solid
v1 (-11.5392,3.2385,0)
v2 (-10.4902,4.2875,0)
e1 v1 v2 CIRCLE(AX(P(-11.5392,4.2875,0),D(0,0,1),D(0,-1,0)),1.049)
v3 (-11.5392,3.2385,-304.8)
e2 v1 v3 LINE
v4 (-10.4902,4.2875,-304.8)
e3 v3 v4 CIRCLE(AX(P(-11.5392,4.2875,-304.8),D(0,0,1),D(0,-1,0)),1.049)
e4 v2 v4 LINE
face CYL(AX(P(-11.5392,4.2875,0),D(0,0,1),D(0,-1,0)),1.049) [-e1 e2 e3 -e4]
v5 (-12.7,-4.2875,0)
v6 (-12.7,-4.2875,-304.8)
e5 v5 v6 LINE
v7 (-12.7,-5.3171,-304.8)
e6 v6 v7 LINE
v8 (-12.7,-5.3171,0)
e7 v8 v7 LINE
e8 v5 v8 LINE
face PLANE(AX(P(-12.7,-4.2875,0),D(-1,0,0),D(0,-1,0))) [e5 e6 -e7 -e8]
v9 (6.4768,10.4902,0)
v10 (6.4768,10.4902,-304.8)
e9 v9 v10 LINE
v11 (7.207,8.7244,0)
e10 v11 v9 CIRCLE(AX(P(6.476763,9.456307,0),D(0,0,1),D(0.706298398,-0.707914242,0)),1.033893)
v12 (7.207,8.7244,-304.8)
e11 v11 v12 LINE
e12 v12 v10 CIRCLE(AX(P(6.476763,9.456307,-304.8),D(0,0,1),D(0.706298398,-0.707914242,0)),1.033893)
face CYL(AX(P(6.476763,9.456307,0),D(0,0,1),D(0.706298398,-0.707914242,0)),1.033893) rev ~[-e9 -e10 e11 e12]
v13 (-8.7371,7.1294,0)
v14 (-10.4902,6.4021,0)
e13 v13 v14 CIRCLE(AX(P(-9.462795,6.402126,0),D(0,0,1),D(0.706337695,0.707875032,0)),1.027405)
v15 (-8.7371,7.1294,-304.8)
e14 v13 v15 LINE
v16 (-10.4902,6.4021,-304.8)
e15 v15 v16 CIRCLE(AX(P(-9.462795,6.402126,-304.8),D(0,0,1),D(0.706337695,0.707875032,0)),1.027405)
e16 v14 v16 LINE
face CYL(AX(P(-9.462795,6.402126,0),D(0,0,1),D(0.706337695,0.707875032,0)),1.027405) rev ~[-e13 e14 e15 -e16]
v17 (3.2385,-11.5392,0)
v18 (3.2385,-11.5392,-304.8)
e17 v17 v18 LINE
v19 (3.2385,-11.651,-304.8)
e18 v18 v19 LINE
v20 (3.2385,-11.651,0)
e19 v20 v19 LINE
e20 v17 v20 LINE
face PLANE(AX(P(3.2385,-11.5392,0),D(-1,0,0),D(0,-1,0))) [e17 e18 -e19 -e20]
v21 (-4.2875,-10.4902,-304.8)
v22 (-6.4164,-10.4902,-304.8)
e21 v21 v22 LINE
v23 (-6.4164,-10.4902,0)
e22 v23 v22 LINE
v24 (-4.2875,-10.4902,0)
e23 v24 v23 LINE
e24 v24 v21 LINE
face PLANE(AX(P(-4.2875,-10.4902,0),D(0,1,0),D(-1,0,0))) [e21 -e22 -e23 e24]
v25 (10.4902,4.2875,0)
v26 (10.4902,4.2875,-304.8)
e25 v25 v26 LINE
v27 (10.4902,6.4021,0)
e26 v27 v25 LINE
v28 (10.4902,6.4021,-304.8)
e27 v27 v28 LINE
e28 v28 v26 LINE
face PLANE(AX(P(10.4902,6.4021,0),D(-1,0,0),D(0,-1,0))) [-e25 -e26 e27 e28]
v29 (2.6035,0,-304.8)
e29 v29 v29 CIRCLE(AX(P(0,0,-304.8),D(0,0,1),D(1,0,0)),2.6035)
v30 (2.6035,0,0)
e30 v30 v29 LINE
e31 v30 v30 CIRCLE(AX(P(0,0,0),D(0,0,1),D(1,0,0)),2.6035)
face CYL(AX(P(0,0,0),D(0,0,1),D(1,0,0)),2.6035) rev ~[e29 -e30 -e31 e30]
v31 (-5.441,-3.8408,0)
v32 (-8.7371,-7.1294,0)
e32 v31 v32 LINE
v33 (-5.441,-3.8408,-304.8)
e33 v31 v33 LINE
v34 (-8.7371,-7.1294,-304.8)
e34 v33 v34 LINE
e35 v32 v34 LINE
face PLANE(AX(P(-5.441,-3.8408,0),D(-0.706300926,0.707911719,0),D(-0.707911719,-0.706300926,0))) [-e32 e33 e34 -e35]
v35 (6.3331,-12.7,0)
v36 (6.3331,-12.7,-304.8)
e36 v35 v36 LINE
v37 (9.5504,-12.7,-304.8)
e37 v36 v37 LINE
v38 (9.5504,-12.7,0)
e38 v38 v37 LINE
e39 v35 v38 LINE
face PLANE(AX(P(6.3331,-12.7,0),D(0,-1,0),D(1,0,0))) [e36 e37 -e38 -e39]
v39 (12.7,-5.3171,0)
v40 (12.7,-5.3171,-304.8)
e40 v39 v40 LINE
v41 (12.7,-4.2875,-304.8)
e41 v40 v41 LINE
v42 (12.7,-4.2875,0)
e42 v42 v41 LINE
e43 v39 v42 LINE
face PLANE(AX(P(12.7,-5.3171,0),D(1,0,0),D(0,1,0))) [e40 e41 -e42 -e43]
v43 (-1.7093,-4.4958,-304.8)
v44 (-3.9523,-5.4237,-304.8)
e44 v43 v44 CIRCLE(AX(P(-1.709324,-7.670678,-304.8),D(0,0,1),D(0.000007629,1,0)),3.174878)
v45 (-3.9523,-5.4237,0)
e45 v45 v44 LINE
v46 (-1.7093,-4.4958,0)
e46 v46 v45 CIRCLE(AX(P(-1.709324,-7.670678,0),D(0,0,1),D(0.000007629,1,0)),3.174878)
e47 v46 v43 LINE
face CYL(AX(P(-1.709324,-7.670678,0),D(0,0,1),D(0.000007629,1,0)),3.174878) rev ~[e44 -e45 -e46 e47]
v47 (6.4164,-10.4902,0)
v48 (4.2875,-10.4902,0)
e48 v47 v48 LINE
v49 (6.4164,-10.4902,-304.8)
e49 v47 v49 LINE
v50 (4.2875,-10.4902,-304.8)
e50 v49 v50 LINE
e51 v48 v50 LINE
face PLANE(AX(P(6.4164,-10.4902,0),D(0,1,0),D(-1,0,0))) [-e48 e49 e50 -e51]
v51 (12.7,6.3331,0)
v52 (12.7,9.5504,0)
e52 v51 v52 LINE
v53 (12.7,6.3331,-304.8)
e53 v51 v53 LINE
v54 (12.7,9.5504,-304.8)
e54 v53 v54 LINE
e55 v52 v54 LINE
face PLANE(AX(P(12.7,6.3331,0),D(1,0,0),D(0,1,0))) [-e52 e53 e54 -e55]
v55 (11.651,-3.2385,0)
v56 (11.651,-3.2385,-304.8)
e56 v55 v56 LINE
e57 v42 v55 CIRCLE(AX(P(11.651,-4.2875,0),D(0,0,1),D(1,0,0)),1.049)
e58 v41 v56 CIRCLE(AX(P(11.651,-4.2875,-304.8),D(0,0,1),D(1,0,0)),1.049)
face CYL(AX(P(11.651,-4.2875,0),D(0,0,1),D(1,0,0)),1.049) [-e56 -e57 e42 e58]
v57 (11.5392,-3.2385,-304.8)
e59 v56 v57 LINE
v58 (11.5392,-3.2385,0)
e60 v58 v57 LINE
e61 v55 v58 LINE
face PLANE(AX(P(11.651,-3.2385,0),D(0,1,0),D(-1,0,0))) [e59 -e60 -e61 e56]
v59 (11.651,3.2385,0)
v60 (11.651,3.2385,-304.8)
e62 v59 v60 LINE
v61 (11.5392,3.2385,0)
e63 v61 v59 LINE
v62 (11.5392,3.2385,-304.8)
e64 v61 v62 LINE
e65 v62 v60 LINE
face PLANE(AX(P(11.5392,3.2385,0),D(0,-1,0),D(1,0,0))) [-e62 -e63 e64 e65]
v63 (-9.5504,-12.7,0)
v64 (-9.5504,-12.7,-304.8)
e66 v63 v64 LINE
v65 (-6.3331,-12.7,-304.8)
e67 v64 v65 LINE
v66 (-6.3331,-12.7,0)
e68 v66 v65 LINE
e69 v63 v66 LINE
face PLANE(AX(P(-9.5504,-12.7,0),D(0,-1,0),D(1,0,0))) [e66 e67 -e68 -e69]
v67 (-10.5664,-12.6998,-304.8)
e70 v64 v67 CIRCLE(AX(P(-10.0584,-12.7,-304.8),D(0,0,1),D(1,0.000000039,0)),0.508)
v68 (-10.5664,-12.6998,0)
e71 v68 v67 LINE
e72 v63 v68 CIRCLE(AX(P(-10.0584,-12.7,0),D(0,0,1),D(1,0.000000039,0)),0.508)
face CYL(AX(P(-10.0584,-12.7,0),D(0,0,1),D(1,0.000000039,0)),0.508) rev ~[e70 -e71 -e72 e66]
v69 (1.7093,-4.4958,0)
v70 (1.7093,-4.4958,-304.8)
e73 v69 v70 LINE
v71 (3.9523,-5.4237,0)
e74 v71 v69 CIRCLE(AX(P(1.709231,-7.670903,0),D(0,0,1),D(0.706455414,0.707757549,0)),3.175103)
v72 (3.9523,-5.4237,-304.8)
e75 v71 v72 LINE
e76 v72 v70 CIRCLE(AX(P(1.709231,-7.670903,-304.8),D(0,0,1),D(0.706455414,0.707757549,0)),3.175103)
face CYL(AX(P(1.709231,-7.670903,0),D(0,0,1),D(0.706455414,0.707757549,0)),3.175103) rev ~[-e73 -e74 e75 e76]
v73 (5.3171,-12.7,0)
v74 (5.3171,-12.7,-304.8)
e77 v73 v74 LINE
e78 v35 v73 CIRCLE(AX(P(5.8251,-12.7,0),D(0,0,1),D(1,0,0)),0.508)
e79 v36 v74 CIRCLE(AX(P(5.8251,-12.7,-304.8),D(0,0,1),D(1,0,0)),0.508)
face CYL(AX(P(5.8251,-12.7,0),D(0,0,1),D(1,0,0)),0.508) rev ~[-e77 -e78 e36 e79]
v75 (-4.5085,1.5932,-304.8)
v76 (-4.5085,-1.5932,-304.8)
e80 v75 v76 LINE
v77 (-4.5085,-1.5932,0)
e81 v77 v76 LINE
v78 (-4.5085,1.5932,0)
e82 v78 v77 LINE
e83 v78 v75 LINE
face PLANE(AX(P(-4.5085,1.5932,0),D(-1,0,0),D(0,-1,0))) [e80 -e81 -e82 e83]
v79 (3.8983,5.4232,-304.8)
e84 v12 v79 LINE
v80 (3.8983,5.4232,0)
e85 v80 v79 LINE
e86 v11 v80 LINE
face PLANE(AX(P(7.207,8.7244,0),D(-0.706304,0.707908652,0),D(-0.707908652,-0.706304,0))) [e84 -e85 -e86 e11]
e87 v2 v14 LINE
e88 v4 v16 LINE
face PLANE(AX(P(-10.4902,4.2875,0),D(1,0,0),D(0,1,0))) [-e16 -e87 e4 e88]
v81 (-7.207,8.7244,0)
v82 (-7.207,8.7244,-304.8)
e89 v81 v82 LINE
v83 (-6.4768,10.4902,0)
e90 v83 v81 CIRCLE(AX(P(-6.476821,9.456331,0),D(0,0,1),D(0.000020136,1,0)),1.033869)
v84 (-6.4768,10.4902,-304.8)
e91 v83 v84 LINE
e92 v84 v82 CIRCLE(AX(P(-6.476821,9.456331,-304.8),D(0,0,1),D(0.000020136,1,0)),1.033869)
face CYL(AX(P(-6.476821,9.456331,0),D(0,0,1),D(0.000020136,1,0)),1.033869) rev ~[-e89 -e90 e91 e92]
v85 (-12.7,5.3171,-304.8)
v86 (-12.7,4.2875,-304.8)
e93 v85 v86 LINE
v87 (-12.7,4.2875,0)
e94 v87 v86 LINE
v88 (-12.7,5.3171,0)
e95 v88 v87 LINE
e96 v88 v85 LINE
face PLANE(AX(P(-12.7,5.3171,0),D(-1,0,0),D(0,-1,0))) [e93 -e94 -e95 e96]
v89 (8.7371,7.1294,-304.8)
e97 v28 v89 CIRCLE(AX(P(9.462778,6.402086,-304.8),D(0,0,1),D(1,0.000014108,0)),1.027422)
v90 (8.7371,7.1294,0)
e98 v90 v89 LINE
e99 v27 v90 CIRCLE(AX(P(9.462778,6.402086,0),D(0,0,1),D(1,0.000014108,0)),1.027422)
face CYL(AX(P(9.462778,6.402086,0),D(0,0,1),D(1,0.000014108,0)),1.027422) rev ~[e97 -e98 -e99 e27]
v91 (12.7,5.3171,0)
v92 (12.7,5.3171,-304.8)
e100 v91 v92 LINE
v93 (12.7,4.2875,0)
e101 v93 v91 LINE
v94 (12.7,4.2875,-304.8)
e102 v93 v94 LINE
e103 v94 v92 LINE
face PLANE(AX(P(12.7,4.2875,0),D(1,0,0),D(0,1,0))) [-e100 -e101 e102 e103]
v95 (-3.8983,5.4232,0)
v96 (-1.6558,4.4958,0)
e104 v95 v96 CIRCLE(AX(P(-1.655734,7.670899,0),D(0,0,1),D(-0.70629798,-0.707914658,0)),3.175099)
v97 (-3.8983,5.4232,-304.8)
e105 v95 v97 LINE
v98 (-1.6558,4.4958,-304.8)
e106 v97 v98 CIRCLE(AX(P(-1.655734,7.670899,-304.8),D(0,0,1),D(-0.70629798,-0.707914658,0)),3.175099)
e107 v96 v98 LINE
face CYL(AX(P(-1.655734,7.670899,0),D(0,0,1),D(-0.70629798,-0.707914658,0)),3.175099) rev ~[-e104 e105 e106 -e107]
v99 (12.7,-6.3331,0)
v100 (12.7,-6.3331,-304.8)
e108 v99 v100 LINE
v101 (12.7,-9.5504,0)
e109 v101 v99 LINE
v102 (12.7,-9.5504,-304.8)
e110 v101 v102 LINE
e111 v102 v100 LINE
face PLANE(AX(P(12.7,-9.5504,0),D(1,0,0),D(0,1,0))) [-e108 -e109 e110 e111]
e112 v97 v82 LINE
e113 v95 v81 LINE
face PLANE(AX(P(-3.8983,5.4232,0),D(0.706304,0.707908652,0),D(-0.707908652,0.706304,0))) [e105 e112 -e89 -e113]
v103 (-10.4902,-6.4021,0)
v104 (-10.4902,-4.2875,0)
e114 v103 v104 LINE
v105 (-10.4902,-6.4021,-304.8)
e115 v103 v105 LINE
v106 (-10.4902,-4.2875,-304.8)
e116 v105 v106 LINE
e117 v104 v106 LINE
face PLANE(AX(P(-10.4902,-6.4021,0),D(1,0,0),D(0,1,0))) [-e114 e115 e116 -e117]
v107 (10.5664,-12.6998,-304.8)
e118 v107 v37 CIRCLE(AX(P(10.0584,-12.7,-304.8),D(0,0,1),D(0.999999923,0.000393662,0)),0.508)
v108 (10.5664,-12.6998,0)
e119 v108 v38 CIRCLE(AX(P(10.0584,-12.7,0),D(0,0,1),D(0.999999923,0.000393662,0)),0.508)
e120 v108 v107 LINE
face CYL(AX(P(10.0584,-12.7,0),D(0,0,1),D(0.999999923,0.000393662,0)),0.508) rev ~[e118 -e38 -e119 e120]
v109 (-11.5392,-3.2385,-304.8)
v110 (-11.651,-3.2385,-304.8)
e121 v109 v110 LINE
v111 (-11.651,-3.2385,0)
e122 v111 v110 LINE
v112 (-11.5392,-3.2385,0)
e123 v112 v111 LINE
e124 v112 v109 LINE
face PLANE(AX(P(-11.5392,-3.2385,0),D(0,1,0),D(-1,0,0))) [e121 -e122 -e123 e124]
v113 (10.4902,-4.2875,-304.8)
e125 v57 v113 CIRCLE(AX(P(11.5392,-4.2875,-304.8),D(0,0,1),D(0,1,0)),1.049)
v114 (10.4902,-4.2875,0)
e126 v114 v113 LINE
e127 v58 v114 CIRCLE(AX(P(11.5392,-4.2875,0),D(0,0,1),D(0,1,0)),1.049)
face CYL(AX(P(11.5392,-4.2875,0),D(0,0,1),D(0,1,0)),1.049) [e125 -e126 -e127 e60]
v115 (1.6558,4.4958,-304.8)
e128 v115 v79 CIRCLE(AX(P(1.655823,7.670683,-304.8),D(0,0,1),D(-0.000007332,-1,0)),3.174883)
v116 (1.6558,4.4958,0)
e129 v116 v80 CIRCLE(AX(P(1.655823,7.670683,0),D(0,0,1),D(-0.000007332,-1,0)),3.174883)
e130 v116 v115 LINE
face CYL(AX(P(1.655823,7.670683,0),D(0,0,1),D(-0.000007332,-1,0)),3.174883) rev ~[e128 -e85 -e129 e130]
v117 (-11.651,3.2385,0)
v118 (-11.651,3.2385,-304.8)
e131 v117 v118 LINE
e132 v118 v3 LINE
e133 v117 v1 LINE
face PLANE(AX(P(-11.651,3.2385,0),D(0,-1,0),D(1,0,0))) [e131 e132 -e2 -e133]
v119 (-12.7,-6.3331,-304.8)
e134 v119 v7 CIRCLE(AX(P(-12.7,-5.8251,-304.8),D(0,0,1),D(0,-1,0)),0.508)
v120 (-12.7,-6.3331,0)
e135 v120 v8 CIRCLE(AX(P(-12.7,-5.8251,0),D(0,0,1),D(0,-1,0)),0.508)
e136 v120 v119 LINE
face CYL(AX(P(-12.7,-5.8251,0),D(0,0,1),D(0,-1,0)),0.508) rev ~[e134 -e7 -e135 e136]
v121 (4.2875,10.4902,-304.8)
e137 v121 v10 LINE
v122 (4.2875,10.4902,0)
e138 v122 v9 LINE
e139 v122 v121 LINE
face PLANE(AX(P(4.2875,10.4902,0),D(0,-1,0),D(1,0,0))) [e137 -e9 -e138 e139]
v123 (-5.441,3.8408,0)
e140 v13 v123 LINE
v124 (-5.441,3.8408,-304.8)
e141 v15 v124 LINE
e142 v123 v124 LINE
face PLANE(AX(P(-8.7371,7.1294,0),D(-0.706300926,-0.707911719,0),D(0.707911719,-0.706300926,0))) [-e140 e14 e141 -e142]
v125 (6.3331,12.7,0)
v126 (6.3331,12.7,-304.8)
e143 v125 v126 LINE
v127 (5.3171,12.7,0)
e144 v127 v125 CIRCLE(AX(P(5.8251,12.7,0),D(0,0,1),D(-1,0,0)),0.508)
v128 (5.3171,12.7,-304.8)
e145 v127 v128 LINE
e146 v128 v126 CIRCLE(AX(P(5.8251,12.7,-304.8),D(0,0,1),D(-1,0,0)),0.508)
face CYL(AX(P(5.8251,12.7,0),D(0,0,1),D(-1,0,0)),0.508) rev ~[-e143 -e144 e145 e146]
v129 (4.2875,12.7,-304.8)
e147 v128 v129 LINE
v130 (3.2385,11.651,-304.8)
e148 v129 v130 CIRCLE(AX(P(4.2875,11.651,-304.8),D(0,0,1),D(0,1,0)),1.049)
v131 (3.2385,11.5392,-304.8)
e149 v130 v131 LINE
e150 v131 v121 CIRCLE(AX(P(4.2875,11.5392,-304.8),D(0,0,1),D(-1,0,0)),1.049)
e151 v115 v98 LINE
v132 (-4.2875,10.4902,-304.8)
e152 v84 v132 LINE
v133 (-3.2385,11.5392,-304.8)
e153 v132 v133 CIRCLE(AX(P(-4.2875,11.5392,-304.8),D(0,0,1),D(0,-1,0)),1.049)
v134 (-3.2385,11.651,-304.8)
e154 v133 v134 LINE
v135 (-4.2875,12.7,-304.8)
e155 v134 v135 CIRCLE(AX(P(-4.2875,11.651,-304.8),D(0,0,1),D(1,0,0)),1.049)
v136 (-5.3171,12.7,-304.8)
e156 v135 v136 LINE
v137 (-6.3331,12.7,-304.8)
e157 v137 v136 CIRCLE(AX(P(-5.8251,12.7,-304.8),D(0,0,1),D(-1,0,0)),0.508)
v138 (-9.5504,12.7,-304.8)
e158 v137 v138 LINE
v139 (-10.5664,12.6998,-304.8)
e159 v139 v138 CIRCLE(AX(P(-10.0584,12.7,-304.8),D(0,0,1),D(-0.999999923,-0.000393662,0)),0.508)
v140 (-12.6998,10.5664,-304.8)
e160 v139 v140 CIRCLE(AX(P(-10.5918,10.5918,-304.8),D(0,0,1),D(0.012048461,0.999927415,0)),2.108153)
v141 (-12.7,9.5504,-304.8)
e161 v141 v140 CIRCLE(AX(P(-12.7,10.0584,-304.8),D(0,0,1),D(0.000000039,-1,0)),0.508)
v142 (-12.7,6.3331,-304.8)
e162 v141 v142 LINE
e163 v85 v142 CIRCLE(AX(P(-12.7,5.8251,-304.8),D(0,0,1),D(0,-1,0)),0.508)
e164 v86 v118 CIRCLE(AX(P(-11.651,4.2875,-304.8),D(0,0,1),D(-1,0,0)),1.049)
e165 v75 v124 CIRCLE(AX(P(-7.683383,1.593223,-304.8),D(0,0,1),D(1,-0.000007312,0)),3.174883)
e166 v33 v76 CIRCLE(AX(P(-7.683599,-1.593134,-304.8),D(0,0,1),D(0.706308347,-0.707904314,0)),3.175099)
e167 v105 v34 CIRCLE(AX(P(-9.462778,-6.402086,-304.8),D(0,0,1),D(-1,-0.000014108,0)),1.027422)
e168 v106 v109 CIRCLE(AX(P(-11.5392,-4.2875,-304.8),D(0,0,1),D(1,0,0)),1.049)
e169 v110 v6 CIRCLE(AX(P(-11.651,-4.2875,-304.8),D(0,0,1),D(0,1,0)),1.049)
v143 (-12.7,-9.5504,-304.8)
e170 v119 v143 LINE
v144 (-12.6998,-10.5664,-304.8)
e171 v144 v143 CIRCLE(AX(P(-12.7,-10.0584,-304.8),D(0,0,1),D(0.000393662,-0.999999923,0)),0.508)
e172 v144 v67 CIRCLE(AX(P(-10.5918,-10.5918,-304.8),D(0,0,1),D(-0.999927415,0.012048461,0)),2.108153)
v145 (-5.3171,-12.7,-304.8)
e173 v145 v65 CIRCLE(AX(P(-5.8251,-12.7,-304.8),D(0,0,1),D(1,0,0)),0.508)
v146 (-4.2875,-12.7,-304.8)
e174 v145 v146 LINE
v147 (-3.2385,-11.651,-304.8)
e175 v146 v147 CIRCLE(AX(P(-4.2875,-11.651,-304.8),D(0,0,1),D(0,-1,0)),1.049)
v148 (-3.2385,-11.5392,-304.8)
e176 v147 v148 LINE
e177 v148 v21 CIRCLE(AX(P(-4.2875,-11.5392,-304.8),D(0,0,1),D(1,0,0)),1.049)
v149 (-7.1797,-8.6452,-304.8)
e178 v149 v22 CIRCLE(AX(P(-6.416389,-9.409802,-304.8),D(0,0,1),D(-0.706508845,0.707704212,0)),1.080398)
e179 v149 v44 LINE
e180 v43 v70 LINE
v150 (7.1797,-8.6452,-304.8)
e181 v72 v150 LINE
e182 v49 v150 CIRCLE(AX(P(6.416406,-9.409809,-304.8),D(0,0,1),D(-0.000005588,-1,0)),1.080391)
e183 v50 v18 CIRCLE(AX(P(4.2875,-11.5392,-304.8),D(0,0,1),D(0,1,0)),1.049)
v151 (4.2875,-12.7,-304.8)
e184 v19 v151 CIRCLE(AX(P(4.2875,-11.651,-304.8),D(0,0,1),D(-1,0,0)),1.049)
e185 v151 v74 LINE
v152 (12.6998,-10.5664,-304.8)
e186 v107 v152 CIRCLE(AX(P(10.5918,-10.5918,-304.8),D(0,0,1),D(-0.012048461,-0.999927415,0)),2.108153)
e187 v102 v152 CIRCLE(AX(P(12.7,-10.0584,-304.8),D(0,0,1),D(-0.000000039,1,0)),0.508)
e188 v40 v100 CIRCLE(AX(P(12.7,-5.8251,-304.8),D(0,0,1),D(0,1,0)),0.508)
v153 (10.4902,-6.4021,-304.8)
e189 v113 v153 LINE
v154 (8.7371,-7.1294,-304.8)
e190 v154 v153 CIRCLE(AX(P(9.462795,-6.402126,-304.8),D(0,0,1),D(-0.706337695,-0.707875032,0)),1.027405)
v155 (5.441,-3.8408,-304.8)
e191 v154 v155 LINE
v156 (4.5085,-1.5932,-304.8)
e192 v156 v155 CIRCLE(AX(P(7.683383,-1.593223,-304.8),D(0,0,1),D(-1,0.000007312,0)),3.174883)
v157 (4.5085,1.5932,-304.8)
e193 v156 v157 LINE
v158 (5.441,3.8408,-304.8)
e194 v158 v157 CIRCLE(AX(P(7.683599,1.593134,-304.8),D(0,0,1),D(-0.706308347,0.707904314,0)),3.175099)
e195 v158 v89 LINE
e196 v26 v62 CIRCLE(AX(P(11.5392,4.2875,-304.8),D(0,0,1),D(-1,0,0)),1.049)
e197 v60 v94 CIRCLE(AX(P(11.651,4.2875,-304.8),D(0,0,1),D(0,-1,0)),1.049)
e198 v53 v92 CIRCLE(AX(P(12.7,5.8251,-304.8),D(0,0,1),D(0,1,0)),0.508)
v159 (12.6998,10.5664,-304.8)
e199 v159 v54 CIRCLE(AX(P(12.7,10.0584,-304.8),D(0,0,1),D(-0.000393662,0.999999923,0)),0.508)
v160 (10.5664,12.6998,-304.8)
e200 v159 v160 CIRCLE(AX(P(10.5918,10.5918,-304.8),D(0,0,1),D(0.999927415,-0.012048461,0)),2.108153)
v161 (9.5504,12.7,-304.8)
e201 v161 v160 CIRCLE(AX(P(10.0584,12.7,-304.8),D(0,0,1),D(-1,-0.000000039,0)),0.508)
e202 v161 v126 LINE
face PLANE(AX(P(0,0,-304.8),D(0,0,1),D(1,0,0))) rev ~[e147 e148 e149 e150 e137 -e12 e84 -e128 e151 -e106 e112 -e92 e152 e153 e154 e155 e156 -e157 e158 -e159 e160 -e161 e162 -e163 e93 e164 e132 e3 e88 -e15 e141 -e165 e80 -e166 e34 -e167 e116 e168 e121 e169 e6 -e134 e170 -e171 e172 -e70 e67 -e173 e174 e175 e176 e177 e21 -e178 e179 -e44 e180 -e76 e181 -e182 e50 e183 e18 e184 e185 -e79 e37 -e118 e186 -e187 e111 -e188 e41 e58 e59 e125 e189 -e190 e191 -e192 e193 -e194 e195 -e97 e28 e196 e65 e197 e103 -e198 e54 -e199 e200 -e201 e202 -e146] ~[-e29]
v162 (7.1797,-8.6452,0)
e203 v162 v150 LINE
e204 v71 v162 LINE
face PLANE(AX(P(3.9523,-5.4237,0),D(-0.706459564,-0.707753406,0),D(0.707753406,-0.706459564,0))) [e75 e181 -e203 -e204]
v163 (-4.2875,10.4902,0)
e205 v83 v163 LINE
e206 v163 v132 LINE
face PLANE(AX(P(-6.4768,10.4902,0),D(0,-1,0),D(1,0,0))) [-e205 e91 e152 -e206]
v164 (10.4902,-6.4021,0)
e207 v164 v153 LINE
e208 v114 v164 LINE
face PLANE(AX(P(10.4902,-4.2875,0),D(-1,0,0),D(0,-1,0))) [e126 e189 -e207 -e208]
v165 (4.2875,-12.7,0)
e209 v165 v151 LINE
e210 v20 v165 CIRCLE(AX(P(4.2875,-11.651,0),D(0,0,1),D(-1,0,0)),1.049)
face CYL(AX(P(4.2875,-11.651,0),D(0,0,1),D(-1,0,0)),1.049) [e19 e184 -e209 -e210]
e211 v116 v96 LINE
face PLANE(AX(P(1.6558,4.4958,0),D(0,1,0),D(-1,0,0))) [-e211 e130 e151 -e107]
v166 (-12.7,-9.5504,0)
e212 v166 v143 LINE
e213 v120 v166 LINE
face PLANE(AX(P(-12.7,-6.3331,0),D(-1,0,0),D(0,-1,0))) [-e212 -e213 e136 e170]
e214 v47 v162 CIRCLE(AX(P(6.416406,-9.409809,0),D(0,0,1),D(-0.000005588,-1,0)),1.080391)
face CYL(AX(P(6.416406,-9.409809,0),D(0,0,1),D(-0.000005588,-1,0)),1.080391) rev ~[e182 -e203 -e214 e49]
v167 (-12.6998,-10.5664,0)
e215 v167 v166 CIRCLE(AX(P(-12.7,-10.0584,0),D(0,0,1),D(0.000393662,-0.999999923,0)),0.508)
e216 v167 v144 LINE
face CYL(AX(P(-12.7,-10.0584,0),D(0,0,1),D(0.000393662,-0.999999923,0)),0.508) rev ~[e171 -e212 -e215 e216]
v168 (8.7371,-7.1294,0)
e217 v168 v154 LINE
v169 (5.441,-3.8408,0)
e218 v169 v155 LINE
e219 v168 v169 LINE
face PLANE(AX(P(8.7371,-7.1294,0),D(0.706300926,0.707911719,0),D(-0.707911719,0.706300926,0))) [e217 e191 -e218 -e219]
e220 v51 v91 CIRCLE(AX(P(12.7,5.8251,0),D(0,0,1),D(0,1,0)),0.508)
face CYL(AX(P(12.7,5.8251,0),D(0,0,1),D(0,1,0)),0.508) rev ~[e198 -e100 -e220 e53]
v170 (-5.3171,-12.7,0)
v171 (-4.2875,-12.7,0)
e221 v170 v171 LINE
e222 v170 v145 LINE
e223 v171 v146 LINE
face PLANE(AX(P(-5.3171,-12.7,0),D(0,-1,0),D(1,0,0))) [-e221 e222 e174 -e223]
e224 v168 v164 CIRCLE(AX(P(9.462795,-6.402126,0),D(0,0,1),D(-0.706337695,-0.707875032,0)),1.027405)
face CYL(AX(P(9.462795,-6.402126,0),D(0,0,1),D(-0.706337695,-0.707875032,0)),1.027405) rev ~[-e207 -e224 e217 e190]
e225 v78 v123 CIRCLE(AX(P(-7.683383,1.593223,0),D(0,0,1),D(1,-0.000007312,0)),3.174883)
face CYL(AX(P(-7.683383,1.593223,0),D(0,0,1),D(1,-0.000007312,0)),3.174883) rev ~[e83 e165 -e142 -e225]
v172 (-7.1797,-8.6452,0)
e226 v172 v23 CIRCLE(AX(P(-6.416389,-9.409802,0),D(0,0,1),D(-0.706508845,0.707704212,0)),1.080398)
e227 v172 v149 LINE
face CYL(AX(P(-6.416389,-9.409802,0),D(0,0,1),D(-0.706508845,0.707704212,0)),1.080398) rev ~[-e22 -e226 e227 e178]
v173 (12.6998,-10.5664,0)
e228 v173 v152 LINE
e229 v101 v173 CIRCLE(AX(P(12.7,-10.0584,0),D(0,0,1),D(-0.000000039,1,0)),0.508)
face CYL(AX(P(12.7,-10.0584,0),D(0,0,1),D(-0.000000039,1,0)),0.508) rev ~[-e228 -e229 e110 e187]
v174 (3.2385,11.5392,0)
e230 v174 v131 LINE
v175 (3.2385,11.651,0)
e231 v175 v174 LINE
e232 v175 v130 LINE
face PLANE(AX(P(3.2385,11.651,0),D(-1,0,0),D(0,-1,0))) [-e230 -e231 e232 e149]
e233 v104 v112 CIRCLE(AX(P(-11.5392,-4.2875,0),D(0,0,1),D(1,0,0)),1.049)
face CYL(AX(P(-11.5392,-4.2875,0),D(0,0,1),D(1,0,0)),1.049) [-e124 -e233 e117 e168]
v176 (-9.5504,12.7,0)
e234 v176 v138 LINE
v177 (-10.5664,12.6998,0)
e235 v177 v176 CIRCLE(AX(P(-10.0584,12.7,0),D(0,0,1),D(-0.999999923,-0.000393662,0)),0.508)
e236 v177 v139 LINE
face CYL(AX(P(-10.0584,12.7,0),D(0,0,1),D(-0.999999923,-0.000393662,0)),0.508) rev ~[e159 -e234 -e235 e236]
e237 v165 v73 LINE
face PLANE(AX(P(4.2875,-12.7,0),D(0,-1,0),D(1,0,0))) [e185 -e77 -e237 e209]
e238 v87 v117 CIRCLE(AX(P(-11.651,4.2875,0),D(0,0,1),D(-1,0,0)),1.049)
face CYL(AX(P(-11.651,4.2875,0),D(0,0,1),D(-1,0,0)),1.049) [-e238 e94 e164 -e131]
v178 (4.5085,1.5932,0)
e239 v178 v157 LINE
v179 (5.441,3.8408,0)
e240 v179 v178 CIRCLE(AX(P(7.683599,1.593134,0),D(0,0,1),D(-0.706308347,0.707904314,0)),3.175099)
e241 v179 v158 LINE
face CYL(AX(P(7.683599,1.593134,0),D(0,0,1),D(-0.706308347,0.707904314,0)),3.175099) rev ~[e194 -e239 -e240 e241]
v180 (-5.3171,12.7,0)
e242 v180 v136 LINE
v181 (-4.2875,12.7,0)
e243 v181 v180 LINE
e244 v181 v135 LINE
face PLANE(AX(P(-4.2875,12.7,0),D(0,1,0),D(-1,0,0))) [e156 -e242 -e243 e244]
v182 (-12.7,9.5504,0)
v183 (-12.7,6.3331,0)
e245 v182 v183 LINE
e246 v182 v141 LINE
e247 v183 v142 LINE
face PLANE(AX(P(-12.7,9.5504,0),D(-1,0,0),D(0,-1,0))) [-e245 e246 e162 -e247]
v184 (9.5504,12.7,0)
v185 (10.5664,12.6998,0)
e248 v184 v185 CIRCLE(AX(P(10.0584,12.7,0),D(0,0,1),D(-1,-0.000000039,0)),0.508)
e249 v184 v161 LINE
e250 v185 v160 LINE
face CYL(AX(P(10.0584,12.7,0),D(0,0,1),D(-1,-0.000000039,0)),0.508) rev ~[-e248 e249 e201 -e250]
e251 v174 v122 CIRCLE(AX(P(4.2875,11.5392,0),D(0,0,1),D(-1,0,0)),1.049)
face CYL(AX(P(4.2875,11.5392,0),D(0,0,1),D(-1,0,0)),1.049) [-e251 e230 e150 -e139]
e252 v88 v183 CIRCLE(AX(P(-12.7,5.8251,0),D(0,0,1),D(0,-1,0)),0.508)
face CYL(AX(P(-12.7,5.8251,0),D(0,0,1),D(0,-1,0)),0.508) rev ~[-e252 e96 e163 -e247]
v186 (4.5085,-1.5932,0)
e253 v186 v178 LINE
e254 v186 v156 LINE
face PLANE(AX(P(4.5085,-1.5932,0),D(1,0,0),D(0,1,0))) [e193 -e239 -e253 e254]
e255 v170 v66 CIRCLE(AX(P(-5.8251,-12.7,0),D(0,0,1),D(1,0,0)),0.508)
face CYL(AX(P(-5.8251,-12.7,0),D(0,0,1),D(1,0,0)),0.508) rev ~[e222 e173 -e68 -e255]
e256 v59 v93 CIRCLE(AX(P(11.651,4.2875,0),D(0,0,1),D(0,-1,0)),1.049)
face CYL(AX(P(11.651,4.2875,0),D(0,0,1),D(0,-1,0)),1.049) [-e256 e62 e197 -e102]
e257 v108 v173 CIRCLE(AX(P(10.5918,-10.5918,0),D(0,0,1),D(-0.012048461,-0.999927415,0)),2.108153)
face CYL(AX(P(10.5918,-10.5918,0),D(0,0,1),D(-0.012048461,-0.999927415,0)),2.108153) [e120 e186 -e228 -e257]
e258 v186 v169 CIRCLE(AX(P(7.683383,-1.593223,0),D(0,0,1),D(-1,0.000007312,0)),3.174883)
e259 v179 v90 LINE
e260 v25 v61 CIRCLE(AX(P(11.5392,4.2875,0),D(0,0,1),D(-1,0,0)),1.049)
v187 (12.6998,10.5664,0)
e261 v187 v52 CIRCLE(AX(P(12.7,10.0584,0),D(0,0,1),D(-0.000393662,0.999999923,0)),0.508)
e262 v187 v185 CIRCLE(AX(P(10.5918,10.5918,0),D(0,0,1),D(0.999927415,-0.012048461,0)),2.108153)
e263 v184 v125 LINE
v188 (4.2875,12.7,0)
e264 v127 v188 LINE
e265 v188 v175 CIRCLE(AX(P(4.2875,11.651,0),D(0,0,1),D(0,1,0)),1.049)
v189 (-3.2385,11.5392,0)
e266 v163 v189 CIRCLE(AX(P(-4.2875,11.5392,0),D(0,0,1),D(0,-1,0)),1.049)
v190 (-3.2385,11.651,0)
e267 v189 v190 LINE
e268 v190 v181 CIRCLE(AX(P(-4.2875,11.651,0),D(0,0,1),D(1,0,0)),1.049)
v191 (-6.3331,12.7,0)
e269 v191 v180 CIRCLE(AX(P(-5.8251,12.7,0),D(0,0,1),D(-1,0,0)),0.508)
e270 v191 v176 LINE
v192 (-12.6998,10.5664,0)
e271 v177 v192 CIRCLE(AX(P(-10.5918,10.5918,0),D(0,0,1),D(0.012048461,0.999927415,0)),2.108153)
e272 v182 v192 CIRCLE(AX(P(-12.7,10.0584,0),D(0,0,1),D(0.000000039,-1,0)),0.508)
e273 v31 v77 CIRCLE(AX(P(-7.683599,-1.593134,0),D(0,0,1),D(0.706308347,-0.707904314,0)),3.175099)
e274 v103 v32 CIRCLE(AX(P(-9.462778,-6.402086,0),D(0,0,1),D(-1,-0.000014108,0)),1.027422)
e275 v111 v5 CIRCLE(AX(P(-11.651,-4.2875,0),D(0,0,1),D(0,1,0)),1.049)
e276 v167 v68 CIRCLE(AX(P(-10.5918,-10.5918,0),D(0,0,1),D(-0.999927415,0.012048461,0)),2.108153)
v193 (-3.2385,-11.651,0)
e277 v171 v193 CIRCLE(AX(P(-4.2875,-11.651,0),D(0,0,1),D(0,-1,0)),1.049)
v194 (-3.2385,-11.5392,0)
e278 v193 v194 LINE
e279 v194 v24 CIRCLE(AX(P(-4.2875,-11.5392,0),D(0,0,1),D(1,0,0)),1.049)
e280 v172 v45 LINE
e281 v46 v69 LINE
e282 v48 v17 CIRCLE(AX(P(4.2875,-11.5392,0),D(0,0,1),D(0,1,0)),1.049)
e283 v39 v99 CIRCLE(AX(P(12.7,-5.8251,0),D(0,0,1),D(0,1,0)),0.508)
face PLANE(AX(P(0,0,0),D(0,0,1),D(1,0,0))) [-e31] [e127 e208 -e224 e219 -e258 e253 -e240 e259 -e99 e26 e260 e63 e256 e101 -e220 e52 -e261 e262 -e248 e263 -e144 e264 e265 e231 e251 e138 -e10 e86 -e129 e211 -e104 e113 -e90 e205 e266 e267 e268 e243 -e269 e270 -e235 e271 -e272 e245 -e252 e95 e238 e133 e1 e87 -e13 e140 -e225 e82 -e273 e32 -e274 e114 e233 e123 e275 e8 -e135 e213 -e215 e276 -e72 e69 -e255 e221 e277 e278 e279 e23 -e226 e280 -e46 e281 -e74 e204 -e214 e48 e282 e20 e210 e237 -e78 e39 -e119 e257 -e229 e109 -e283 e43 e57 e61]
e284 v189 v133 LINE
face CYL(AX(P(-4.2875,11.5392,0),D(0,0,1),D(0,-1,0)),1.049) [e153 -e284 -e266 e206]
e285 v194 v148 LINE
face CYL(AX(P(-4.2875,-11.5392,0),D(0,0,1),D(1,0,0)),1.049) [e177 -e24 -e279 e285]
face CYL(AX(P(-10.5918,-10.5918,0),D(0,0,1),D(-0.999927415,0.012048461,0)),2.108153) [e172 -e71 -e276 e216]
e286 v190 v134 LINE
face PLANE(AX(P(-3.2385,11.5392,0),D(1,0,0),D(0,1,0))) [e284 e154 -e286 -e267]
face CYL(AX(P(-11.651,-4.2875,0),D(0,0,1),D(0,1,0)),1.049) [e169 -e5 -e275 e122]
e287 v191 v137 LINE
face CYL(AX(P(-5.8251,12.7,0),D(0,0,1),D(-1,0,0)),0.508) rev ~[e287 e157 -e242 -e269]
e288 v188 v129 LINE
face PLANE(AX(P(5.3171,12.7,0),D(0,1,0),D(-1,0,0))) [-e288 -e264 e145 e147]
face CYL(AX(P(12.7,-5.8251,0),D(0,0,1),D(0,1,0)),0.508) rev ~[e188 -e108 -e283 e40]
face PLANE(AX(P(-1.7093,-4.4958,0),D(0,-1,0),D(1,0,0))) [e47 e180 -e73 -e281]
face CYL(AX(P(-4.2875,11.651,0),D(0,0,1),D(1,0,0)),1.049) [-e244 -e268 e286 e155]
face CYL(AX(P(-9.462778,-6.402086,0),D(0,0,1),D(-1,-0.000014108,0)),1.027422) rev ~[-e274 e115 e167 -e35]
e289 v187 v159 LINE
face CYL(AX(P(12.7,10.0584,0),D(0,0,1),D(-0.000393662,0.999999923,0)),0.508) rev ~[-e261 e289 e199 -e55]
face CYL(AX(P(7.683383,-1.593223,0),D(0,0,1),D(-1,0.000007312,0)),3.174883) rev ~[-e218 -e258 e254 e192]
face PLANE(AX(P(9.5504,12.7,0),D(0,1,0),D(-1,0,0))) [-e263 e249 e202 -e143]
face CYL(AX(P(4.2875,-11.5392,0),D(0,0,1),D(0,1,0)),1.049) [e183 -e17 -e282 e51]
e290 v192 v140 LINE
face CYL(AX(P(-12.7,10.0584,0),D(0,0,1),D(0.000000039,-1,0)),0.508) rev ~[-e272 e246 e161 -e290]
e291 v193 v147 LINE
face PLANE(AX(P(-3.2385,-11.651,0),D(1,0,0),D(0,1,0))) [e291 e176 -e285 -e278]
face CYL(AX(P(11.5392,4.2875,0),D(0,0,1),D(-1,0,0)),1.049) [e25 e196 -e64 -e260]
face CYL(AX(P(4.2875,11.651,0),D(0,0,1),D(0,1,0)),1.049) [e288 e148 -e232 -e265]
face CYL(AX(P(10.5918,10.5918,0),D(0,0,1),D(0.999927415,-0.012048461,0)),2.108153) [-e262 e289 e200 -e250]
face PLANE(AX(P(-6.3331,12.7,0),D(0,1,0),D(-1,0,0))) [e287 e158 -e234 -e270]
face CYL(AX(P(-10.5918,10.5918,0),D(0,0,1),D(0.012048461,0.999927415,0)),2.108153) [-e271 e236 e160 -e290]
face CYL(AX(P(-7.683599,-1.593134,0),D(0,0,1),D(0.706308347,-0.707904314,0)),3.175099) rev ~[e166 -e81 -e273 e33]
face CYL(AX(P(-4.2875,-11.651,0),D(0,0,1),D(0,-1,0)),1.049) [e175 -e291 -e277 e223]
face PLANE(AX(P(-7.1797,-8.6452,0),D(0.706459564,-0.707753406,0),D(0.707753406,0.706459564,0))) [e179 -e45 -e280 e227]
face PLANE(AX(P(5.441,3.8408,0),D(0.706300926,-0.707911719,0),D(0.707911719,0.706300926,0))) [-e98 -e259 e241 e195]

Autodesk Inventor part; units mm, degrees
ref_plane "YZ Plane" through (0, 0, 0) normal (1, 0, 0) x (0, 1, 0)
ref_plane "XZ Plane" through (0, 0, 0) normal (0, 1, 0) x (-1, 0, 0)
ref_plane "XY Plane" through (0, 0, 0) normal (0, 0, 1) x (1, 0, 0)
sketch "Sketch1" plane through (0, 0, 0) normal (0, 0, 1) x (1, 0, 0)
  circle A0 centre (0, 0) radius 2.6035
  arc A1 (-1.7093, -4.4958) -> (-3.9523, -5.4237) centre (-1.7093, -7.6708) ccw
  line L0 (-1.7093, -4.4958) -> (1.7093, -4.4958)
  arc A2 (3.9523, -5.4237) -> (1.7093, -4.4958) centre (1.7093, -7.6708) ccw
  line L1 (3.9523, -5.4237) -> (7.1797, -8.6452)
  arc A3 (6.4164, -10.4902) -> (7.1797, -8.6452) centre (6.4164, -9.4098) ccw
  line L2 (6.4164, -10.4902) -> (4.2875, -10.4902)
  arc A4 (4.2875, -10.4902) -> (3.2385, -11.5392) centre (4.2875, -11.5392) ccw
  line L3 (3.2385, -11.5392) -> (3.2385, -11.651)
  arc A5 (3.2385, -11.651) -> (4.2875, -12.7) centre (4.2875, -11.651) ccw
  line L4 (4.2875, -12.7) -> (5.3171, -12.7)
  arc A6 (6.3331, -12.7) -> (5.3171, -12.7) centre (5.8251, -12.7) ccw
  line L5 (6.3331, -12.7) -> (9.5504, -12.7)
  arc A7 (10.5664, -12.6998) -> (9.5504, -12.7) centre (10.0584, -12.7) ccw
  arc A8 (10.5664, -12.6998) -> (12.6998, -10.5664) centre (10.5918, -10.5918) ccw
  arc A9 (12.7, -9.5504) -> (12.6998, -10.5664) centre (12.7, -10.0584) ccw
  line L6 (12.7, -9.5504) -> (12.7, -6.3331)
  arc A10 (12.7, -5.3171) -> (12.7, -6.3331) centre (12.7, -5.8251) ccw
  line L7 (12.7, -5.3171) -> (12.7, -4.2875)
  arc A11 (12.7, -4.2875) -> (11.651, -3.2385) centre (11.651, -4.2875) ccw
  line L8 (11.651, -3.2385) -> (11.5392, -3.2385)
  arc A12 (11.5392, -3.2385) -> (10.4902, -4.2875) centre (11.5392, -4.2875) ccw
  line L9 (10.4902, -4.2875) -> (10.4902, -6.4021)
  arc A13 (8.7371, -7.1294) -> (10.4902, -6.4021) centre (9.4628, -6.4021) ccw
  line L10 (8.7371, -7.1294) -> (5.441, -3.8408)
  arc A14 (4.5085, -1.5932) -> (5.441, -3.8408) centre (7.6835, -1.5932) ccw
  line L11 (4.5085, -1.5932) -> (4.5085, 1.5932)
  arc A15 (5.441, 3.8408) -> (4.5085, 1.5932) centre (7.6835, 1.5932) ccw
  line L12 (5.441, 3.8408) -> (8.7371, 7.1294)
  arc A16 (10.4902, 6.4021) -> (8.7371, 7.1294) centre (9.4628, 6.4021) ccw
  line L13 (10.4902, 6.4021) -> (10.4902, 4.2875)
  arc A17 (10.4902, 4.2875) -> (11.5392, 3.2385) centre (11.5392, 4.2875) ccw
  line L14 (11.5392, 3.2385) -> (11.651, 3.2385)
  arc A18 (11.651, 3.2385) -> (12.7, 4.2875) centre (11.651, 4.2875) ccw
  line L15 (12.7, 4.2875) -> (12.7, 5.3171)
  arc A19 (12.7, 6.3331) -> (12.7, 5.3171) centre (12.7, 5.8251) ccw
  line L16 (12.7, 6.3331) -> (12.7, 9.5504)
  arc A20 (12.6998, 10.5664) -> (12.7, 9.5504) centre (12.7, 10.0584) ccw
  arc A21 (12.6998, 10.5664) -> (10.5664, 12.6998) centre (10.5918, 10.5918) ccw
  arc A22 (9.5504, 12.7) -> (10.5664, 12.6998) centre (10.0584, 12.7) ccw
  line L17 (9.5504, 12.7) -> (6.3331, 12.7)
  arc A23 (5.3171, 12.7) -> (6.3331, 12.7) centre (5.8251, 12.7) ccw
  line L18 (5.3171, 12.7) -> (4.2875, 12.7)
  arc A24 (4.2875, 12.7) -> (3.2385, 11.651) centre (4.2875, 11.651) ccw
  line L19 (3.2385, 11.651) -> (3.2385, 11.5392)
  arc A25 (3.2385, 11.5392) -> (4.2875, 10.4902) centre (4.2875, 11.5392) ccw
  line L20 (4.2875, 10.4902) -> (6.4768, 10.4902)
  arc A26 (7.207, 8.7244) -> (6.4768, 10.4902) centre (6.4768, 9.4563) ccw
  line L21 (7.207, 8.7244) -> (3.8983, 5.4232)
  arc A27 (1.6558, 4.4958) -> (3.8983, 5.4232) centre (1.6558, 7.6708) ccw
  line L22 (1.6558, 4.4958) -> (-1.6558, 4.4958)
  arc A28 (-3.8983, 5.4232) -> (-1.6558, 4.4958) centre (-1.6558, 7.6708) ccw
  line L23 (-3.8983, 5.4232) -> (-7.207, 8.7244)
  arc A29 (-6.4768, 10.4902) -> (-7.207, 8.7244) centre (-6.4768, 9.4563) ccw
  line L24 (-6.4768, 10.4902) -> (-4.2875, 10.4902)
  arc A30 (-4.2875, 10.4902) -> (-3.2385, 11.5392) centre (-4.2875, 11.5392) ccw
  line L25 (-3.2385, 11.5392) -> (-3.2385, 11.651)
  arc A31 (-3.2385, 11.651) -> (-4.2875, 12.7) centre (-4.2875, 11.651) ccw
  line L26 (-4.2875, 12.7) -> (-5.3171, 12.7)
  arc A32 (-6.3331, 12.7) -> (-5.3171, 12.7) centre (-5.8251, 12.7) ccw
  line L27 (-6.3331, 12.7) -> (-9.5504, 12.7)
  arc A33 (-10.5664, 12.6998) -> (-9.5504, 12.7) centre (-10.0584, 12.7) ccw
  arc A34 (-10.5664, 12.6998) -> (-12.6998, 10.5664) centre (-10.5918, 10.5918) ccw
  arc A35 (-12.7, 9.5504) -> (-12.6998, 10.5664) centre (-12.7, 10.0584) ccw
  line L28 (-12.7, 9.5504) -> (-12.7, 6.3331)
  arc A36 (-12.7, 5.3171) -> (-12.7, 6.3331) centre (-12.7, 5.8251) ccw
  line L29 (-12.7, 5.3171) -> (-12.7, 4.2875)
  arc A37 (-12.7, 4.2875) -> (-11.651, 3.2385) centre (-11.651, 4.2875) ccw
  line L30 (-11.651, 3.2385) -> (-11.5392, 3.2385)
  arc A38 (-11.5392, 3.2385) -> (-10.4902, 4.2875) centre (-11.5392, 4.2875) ccw
  line L31 (-10.4902, 4.2875) -> (-10.4902, 6.4021)
  arc A39 (-8.7371, 7.1294) -> (-10.4902, 6.4021) centre (-9.4628, 6.4021) ccw
  line L32 (-8.7371, 7.1294) -> (-5.441, 3.8408)
  arc A40 (-4.5085, 1.5932) -> (-5.441, 3.8408) centre (-7.6835, 1.5932) ccw
  line L33 (-4.5085, 1.5932) -> (-4.5085, -1.5932)
  arc A41 (-5.441, -3.8408) -> (-4.5085, -1.5932) centre (-7.6835, -1.5932) ccw
  line L34 (-5.441, -3.8408) -> (-8.7371, -7.1294)
  arc A42 (-10.4902, -6.4021) -> (-8.7371, -7.1294) centre (-9.4628, -6.4021) ccw
  line L35 (-10.4902, -6.4021) -> (-10.4902, -4.2875)
  arc A43 (-10.4902, -4.2875) -> (-11.5392, -3.2385) centre (-11.5392, -4.2875) ccw
  line L36 (-11.5392, -3.2385) -> (-11.651, -3.2385)
  arc A44 (-11.651, -3.2385) -> (-12.7, -4.2875) centre (-11.651, -4.2875) ccw
  line L37 (-12.7, -4.2875) -> (-12.7, -5.3171)
  arc A45 (-12.7, -6.3331) -> (-12.7, -5.3171) centre (-12.7, -5.8251) ccw
  line L38 (-12.7, -6.3331) -> (-12.7, -9.5504)
  arc A46 (-12.6998, -10.5664) -> (-12.7, -9.5504) centre (-12.7, -10.0584) ccw
  arc A47 (-12.6998, -10.5664) -> (-10.5664, -12.6998) centre (-10.5918, -10.5918) ccw
  arc A48 (-9.5504, -12.7) -> (-10.5664, -12.6998) centre (-10.0584, -12.7) ccw
  line L39 (-9.5504, -12.7) -> (-6.3331, -12.7)
  arc A49 (-5.3171, -12.7) -> (-6.3331, -12.7) centre (-5.8251, -12.7) ccw
  line L40 (-5.3171, -12.7) -> (-4.2875, -12.7)
  arc A50 (-4.2875, -12.7) -> (-3.2385, -11.651) centre (-4.2875, -11.651) ccw
  line L41 (-3.2385, -11.651) -> (-3.2385, -11.5392)
  arc A51 (-3.2385, -11.5392) -> (-4.2875, -10.4902) centre (-4.2875, -11.5392) ccw
  line L42 (-4.2875, -10.4902) -> (-6.4164, -10.4902)
  arc A52 (-7.1797, -8.6452) -> (-6.4164, -10.4902) centre (-6.4164, -9.4098) ccw
  line L43 (-7.1797, -8.6452) -> (-3.9523, -5.4237)
extrude "Extrusion1" add sketch "Sketch1" against normal blind 304.8
properties part number "1010"
